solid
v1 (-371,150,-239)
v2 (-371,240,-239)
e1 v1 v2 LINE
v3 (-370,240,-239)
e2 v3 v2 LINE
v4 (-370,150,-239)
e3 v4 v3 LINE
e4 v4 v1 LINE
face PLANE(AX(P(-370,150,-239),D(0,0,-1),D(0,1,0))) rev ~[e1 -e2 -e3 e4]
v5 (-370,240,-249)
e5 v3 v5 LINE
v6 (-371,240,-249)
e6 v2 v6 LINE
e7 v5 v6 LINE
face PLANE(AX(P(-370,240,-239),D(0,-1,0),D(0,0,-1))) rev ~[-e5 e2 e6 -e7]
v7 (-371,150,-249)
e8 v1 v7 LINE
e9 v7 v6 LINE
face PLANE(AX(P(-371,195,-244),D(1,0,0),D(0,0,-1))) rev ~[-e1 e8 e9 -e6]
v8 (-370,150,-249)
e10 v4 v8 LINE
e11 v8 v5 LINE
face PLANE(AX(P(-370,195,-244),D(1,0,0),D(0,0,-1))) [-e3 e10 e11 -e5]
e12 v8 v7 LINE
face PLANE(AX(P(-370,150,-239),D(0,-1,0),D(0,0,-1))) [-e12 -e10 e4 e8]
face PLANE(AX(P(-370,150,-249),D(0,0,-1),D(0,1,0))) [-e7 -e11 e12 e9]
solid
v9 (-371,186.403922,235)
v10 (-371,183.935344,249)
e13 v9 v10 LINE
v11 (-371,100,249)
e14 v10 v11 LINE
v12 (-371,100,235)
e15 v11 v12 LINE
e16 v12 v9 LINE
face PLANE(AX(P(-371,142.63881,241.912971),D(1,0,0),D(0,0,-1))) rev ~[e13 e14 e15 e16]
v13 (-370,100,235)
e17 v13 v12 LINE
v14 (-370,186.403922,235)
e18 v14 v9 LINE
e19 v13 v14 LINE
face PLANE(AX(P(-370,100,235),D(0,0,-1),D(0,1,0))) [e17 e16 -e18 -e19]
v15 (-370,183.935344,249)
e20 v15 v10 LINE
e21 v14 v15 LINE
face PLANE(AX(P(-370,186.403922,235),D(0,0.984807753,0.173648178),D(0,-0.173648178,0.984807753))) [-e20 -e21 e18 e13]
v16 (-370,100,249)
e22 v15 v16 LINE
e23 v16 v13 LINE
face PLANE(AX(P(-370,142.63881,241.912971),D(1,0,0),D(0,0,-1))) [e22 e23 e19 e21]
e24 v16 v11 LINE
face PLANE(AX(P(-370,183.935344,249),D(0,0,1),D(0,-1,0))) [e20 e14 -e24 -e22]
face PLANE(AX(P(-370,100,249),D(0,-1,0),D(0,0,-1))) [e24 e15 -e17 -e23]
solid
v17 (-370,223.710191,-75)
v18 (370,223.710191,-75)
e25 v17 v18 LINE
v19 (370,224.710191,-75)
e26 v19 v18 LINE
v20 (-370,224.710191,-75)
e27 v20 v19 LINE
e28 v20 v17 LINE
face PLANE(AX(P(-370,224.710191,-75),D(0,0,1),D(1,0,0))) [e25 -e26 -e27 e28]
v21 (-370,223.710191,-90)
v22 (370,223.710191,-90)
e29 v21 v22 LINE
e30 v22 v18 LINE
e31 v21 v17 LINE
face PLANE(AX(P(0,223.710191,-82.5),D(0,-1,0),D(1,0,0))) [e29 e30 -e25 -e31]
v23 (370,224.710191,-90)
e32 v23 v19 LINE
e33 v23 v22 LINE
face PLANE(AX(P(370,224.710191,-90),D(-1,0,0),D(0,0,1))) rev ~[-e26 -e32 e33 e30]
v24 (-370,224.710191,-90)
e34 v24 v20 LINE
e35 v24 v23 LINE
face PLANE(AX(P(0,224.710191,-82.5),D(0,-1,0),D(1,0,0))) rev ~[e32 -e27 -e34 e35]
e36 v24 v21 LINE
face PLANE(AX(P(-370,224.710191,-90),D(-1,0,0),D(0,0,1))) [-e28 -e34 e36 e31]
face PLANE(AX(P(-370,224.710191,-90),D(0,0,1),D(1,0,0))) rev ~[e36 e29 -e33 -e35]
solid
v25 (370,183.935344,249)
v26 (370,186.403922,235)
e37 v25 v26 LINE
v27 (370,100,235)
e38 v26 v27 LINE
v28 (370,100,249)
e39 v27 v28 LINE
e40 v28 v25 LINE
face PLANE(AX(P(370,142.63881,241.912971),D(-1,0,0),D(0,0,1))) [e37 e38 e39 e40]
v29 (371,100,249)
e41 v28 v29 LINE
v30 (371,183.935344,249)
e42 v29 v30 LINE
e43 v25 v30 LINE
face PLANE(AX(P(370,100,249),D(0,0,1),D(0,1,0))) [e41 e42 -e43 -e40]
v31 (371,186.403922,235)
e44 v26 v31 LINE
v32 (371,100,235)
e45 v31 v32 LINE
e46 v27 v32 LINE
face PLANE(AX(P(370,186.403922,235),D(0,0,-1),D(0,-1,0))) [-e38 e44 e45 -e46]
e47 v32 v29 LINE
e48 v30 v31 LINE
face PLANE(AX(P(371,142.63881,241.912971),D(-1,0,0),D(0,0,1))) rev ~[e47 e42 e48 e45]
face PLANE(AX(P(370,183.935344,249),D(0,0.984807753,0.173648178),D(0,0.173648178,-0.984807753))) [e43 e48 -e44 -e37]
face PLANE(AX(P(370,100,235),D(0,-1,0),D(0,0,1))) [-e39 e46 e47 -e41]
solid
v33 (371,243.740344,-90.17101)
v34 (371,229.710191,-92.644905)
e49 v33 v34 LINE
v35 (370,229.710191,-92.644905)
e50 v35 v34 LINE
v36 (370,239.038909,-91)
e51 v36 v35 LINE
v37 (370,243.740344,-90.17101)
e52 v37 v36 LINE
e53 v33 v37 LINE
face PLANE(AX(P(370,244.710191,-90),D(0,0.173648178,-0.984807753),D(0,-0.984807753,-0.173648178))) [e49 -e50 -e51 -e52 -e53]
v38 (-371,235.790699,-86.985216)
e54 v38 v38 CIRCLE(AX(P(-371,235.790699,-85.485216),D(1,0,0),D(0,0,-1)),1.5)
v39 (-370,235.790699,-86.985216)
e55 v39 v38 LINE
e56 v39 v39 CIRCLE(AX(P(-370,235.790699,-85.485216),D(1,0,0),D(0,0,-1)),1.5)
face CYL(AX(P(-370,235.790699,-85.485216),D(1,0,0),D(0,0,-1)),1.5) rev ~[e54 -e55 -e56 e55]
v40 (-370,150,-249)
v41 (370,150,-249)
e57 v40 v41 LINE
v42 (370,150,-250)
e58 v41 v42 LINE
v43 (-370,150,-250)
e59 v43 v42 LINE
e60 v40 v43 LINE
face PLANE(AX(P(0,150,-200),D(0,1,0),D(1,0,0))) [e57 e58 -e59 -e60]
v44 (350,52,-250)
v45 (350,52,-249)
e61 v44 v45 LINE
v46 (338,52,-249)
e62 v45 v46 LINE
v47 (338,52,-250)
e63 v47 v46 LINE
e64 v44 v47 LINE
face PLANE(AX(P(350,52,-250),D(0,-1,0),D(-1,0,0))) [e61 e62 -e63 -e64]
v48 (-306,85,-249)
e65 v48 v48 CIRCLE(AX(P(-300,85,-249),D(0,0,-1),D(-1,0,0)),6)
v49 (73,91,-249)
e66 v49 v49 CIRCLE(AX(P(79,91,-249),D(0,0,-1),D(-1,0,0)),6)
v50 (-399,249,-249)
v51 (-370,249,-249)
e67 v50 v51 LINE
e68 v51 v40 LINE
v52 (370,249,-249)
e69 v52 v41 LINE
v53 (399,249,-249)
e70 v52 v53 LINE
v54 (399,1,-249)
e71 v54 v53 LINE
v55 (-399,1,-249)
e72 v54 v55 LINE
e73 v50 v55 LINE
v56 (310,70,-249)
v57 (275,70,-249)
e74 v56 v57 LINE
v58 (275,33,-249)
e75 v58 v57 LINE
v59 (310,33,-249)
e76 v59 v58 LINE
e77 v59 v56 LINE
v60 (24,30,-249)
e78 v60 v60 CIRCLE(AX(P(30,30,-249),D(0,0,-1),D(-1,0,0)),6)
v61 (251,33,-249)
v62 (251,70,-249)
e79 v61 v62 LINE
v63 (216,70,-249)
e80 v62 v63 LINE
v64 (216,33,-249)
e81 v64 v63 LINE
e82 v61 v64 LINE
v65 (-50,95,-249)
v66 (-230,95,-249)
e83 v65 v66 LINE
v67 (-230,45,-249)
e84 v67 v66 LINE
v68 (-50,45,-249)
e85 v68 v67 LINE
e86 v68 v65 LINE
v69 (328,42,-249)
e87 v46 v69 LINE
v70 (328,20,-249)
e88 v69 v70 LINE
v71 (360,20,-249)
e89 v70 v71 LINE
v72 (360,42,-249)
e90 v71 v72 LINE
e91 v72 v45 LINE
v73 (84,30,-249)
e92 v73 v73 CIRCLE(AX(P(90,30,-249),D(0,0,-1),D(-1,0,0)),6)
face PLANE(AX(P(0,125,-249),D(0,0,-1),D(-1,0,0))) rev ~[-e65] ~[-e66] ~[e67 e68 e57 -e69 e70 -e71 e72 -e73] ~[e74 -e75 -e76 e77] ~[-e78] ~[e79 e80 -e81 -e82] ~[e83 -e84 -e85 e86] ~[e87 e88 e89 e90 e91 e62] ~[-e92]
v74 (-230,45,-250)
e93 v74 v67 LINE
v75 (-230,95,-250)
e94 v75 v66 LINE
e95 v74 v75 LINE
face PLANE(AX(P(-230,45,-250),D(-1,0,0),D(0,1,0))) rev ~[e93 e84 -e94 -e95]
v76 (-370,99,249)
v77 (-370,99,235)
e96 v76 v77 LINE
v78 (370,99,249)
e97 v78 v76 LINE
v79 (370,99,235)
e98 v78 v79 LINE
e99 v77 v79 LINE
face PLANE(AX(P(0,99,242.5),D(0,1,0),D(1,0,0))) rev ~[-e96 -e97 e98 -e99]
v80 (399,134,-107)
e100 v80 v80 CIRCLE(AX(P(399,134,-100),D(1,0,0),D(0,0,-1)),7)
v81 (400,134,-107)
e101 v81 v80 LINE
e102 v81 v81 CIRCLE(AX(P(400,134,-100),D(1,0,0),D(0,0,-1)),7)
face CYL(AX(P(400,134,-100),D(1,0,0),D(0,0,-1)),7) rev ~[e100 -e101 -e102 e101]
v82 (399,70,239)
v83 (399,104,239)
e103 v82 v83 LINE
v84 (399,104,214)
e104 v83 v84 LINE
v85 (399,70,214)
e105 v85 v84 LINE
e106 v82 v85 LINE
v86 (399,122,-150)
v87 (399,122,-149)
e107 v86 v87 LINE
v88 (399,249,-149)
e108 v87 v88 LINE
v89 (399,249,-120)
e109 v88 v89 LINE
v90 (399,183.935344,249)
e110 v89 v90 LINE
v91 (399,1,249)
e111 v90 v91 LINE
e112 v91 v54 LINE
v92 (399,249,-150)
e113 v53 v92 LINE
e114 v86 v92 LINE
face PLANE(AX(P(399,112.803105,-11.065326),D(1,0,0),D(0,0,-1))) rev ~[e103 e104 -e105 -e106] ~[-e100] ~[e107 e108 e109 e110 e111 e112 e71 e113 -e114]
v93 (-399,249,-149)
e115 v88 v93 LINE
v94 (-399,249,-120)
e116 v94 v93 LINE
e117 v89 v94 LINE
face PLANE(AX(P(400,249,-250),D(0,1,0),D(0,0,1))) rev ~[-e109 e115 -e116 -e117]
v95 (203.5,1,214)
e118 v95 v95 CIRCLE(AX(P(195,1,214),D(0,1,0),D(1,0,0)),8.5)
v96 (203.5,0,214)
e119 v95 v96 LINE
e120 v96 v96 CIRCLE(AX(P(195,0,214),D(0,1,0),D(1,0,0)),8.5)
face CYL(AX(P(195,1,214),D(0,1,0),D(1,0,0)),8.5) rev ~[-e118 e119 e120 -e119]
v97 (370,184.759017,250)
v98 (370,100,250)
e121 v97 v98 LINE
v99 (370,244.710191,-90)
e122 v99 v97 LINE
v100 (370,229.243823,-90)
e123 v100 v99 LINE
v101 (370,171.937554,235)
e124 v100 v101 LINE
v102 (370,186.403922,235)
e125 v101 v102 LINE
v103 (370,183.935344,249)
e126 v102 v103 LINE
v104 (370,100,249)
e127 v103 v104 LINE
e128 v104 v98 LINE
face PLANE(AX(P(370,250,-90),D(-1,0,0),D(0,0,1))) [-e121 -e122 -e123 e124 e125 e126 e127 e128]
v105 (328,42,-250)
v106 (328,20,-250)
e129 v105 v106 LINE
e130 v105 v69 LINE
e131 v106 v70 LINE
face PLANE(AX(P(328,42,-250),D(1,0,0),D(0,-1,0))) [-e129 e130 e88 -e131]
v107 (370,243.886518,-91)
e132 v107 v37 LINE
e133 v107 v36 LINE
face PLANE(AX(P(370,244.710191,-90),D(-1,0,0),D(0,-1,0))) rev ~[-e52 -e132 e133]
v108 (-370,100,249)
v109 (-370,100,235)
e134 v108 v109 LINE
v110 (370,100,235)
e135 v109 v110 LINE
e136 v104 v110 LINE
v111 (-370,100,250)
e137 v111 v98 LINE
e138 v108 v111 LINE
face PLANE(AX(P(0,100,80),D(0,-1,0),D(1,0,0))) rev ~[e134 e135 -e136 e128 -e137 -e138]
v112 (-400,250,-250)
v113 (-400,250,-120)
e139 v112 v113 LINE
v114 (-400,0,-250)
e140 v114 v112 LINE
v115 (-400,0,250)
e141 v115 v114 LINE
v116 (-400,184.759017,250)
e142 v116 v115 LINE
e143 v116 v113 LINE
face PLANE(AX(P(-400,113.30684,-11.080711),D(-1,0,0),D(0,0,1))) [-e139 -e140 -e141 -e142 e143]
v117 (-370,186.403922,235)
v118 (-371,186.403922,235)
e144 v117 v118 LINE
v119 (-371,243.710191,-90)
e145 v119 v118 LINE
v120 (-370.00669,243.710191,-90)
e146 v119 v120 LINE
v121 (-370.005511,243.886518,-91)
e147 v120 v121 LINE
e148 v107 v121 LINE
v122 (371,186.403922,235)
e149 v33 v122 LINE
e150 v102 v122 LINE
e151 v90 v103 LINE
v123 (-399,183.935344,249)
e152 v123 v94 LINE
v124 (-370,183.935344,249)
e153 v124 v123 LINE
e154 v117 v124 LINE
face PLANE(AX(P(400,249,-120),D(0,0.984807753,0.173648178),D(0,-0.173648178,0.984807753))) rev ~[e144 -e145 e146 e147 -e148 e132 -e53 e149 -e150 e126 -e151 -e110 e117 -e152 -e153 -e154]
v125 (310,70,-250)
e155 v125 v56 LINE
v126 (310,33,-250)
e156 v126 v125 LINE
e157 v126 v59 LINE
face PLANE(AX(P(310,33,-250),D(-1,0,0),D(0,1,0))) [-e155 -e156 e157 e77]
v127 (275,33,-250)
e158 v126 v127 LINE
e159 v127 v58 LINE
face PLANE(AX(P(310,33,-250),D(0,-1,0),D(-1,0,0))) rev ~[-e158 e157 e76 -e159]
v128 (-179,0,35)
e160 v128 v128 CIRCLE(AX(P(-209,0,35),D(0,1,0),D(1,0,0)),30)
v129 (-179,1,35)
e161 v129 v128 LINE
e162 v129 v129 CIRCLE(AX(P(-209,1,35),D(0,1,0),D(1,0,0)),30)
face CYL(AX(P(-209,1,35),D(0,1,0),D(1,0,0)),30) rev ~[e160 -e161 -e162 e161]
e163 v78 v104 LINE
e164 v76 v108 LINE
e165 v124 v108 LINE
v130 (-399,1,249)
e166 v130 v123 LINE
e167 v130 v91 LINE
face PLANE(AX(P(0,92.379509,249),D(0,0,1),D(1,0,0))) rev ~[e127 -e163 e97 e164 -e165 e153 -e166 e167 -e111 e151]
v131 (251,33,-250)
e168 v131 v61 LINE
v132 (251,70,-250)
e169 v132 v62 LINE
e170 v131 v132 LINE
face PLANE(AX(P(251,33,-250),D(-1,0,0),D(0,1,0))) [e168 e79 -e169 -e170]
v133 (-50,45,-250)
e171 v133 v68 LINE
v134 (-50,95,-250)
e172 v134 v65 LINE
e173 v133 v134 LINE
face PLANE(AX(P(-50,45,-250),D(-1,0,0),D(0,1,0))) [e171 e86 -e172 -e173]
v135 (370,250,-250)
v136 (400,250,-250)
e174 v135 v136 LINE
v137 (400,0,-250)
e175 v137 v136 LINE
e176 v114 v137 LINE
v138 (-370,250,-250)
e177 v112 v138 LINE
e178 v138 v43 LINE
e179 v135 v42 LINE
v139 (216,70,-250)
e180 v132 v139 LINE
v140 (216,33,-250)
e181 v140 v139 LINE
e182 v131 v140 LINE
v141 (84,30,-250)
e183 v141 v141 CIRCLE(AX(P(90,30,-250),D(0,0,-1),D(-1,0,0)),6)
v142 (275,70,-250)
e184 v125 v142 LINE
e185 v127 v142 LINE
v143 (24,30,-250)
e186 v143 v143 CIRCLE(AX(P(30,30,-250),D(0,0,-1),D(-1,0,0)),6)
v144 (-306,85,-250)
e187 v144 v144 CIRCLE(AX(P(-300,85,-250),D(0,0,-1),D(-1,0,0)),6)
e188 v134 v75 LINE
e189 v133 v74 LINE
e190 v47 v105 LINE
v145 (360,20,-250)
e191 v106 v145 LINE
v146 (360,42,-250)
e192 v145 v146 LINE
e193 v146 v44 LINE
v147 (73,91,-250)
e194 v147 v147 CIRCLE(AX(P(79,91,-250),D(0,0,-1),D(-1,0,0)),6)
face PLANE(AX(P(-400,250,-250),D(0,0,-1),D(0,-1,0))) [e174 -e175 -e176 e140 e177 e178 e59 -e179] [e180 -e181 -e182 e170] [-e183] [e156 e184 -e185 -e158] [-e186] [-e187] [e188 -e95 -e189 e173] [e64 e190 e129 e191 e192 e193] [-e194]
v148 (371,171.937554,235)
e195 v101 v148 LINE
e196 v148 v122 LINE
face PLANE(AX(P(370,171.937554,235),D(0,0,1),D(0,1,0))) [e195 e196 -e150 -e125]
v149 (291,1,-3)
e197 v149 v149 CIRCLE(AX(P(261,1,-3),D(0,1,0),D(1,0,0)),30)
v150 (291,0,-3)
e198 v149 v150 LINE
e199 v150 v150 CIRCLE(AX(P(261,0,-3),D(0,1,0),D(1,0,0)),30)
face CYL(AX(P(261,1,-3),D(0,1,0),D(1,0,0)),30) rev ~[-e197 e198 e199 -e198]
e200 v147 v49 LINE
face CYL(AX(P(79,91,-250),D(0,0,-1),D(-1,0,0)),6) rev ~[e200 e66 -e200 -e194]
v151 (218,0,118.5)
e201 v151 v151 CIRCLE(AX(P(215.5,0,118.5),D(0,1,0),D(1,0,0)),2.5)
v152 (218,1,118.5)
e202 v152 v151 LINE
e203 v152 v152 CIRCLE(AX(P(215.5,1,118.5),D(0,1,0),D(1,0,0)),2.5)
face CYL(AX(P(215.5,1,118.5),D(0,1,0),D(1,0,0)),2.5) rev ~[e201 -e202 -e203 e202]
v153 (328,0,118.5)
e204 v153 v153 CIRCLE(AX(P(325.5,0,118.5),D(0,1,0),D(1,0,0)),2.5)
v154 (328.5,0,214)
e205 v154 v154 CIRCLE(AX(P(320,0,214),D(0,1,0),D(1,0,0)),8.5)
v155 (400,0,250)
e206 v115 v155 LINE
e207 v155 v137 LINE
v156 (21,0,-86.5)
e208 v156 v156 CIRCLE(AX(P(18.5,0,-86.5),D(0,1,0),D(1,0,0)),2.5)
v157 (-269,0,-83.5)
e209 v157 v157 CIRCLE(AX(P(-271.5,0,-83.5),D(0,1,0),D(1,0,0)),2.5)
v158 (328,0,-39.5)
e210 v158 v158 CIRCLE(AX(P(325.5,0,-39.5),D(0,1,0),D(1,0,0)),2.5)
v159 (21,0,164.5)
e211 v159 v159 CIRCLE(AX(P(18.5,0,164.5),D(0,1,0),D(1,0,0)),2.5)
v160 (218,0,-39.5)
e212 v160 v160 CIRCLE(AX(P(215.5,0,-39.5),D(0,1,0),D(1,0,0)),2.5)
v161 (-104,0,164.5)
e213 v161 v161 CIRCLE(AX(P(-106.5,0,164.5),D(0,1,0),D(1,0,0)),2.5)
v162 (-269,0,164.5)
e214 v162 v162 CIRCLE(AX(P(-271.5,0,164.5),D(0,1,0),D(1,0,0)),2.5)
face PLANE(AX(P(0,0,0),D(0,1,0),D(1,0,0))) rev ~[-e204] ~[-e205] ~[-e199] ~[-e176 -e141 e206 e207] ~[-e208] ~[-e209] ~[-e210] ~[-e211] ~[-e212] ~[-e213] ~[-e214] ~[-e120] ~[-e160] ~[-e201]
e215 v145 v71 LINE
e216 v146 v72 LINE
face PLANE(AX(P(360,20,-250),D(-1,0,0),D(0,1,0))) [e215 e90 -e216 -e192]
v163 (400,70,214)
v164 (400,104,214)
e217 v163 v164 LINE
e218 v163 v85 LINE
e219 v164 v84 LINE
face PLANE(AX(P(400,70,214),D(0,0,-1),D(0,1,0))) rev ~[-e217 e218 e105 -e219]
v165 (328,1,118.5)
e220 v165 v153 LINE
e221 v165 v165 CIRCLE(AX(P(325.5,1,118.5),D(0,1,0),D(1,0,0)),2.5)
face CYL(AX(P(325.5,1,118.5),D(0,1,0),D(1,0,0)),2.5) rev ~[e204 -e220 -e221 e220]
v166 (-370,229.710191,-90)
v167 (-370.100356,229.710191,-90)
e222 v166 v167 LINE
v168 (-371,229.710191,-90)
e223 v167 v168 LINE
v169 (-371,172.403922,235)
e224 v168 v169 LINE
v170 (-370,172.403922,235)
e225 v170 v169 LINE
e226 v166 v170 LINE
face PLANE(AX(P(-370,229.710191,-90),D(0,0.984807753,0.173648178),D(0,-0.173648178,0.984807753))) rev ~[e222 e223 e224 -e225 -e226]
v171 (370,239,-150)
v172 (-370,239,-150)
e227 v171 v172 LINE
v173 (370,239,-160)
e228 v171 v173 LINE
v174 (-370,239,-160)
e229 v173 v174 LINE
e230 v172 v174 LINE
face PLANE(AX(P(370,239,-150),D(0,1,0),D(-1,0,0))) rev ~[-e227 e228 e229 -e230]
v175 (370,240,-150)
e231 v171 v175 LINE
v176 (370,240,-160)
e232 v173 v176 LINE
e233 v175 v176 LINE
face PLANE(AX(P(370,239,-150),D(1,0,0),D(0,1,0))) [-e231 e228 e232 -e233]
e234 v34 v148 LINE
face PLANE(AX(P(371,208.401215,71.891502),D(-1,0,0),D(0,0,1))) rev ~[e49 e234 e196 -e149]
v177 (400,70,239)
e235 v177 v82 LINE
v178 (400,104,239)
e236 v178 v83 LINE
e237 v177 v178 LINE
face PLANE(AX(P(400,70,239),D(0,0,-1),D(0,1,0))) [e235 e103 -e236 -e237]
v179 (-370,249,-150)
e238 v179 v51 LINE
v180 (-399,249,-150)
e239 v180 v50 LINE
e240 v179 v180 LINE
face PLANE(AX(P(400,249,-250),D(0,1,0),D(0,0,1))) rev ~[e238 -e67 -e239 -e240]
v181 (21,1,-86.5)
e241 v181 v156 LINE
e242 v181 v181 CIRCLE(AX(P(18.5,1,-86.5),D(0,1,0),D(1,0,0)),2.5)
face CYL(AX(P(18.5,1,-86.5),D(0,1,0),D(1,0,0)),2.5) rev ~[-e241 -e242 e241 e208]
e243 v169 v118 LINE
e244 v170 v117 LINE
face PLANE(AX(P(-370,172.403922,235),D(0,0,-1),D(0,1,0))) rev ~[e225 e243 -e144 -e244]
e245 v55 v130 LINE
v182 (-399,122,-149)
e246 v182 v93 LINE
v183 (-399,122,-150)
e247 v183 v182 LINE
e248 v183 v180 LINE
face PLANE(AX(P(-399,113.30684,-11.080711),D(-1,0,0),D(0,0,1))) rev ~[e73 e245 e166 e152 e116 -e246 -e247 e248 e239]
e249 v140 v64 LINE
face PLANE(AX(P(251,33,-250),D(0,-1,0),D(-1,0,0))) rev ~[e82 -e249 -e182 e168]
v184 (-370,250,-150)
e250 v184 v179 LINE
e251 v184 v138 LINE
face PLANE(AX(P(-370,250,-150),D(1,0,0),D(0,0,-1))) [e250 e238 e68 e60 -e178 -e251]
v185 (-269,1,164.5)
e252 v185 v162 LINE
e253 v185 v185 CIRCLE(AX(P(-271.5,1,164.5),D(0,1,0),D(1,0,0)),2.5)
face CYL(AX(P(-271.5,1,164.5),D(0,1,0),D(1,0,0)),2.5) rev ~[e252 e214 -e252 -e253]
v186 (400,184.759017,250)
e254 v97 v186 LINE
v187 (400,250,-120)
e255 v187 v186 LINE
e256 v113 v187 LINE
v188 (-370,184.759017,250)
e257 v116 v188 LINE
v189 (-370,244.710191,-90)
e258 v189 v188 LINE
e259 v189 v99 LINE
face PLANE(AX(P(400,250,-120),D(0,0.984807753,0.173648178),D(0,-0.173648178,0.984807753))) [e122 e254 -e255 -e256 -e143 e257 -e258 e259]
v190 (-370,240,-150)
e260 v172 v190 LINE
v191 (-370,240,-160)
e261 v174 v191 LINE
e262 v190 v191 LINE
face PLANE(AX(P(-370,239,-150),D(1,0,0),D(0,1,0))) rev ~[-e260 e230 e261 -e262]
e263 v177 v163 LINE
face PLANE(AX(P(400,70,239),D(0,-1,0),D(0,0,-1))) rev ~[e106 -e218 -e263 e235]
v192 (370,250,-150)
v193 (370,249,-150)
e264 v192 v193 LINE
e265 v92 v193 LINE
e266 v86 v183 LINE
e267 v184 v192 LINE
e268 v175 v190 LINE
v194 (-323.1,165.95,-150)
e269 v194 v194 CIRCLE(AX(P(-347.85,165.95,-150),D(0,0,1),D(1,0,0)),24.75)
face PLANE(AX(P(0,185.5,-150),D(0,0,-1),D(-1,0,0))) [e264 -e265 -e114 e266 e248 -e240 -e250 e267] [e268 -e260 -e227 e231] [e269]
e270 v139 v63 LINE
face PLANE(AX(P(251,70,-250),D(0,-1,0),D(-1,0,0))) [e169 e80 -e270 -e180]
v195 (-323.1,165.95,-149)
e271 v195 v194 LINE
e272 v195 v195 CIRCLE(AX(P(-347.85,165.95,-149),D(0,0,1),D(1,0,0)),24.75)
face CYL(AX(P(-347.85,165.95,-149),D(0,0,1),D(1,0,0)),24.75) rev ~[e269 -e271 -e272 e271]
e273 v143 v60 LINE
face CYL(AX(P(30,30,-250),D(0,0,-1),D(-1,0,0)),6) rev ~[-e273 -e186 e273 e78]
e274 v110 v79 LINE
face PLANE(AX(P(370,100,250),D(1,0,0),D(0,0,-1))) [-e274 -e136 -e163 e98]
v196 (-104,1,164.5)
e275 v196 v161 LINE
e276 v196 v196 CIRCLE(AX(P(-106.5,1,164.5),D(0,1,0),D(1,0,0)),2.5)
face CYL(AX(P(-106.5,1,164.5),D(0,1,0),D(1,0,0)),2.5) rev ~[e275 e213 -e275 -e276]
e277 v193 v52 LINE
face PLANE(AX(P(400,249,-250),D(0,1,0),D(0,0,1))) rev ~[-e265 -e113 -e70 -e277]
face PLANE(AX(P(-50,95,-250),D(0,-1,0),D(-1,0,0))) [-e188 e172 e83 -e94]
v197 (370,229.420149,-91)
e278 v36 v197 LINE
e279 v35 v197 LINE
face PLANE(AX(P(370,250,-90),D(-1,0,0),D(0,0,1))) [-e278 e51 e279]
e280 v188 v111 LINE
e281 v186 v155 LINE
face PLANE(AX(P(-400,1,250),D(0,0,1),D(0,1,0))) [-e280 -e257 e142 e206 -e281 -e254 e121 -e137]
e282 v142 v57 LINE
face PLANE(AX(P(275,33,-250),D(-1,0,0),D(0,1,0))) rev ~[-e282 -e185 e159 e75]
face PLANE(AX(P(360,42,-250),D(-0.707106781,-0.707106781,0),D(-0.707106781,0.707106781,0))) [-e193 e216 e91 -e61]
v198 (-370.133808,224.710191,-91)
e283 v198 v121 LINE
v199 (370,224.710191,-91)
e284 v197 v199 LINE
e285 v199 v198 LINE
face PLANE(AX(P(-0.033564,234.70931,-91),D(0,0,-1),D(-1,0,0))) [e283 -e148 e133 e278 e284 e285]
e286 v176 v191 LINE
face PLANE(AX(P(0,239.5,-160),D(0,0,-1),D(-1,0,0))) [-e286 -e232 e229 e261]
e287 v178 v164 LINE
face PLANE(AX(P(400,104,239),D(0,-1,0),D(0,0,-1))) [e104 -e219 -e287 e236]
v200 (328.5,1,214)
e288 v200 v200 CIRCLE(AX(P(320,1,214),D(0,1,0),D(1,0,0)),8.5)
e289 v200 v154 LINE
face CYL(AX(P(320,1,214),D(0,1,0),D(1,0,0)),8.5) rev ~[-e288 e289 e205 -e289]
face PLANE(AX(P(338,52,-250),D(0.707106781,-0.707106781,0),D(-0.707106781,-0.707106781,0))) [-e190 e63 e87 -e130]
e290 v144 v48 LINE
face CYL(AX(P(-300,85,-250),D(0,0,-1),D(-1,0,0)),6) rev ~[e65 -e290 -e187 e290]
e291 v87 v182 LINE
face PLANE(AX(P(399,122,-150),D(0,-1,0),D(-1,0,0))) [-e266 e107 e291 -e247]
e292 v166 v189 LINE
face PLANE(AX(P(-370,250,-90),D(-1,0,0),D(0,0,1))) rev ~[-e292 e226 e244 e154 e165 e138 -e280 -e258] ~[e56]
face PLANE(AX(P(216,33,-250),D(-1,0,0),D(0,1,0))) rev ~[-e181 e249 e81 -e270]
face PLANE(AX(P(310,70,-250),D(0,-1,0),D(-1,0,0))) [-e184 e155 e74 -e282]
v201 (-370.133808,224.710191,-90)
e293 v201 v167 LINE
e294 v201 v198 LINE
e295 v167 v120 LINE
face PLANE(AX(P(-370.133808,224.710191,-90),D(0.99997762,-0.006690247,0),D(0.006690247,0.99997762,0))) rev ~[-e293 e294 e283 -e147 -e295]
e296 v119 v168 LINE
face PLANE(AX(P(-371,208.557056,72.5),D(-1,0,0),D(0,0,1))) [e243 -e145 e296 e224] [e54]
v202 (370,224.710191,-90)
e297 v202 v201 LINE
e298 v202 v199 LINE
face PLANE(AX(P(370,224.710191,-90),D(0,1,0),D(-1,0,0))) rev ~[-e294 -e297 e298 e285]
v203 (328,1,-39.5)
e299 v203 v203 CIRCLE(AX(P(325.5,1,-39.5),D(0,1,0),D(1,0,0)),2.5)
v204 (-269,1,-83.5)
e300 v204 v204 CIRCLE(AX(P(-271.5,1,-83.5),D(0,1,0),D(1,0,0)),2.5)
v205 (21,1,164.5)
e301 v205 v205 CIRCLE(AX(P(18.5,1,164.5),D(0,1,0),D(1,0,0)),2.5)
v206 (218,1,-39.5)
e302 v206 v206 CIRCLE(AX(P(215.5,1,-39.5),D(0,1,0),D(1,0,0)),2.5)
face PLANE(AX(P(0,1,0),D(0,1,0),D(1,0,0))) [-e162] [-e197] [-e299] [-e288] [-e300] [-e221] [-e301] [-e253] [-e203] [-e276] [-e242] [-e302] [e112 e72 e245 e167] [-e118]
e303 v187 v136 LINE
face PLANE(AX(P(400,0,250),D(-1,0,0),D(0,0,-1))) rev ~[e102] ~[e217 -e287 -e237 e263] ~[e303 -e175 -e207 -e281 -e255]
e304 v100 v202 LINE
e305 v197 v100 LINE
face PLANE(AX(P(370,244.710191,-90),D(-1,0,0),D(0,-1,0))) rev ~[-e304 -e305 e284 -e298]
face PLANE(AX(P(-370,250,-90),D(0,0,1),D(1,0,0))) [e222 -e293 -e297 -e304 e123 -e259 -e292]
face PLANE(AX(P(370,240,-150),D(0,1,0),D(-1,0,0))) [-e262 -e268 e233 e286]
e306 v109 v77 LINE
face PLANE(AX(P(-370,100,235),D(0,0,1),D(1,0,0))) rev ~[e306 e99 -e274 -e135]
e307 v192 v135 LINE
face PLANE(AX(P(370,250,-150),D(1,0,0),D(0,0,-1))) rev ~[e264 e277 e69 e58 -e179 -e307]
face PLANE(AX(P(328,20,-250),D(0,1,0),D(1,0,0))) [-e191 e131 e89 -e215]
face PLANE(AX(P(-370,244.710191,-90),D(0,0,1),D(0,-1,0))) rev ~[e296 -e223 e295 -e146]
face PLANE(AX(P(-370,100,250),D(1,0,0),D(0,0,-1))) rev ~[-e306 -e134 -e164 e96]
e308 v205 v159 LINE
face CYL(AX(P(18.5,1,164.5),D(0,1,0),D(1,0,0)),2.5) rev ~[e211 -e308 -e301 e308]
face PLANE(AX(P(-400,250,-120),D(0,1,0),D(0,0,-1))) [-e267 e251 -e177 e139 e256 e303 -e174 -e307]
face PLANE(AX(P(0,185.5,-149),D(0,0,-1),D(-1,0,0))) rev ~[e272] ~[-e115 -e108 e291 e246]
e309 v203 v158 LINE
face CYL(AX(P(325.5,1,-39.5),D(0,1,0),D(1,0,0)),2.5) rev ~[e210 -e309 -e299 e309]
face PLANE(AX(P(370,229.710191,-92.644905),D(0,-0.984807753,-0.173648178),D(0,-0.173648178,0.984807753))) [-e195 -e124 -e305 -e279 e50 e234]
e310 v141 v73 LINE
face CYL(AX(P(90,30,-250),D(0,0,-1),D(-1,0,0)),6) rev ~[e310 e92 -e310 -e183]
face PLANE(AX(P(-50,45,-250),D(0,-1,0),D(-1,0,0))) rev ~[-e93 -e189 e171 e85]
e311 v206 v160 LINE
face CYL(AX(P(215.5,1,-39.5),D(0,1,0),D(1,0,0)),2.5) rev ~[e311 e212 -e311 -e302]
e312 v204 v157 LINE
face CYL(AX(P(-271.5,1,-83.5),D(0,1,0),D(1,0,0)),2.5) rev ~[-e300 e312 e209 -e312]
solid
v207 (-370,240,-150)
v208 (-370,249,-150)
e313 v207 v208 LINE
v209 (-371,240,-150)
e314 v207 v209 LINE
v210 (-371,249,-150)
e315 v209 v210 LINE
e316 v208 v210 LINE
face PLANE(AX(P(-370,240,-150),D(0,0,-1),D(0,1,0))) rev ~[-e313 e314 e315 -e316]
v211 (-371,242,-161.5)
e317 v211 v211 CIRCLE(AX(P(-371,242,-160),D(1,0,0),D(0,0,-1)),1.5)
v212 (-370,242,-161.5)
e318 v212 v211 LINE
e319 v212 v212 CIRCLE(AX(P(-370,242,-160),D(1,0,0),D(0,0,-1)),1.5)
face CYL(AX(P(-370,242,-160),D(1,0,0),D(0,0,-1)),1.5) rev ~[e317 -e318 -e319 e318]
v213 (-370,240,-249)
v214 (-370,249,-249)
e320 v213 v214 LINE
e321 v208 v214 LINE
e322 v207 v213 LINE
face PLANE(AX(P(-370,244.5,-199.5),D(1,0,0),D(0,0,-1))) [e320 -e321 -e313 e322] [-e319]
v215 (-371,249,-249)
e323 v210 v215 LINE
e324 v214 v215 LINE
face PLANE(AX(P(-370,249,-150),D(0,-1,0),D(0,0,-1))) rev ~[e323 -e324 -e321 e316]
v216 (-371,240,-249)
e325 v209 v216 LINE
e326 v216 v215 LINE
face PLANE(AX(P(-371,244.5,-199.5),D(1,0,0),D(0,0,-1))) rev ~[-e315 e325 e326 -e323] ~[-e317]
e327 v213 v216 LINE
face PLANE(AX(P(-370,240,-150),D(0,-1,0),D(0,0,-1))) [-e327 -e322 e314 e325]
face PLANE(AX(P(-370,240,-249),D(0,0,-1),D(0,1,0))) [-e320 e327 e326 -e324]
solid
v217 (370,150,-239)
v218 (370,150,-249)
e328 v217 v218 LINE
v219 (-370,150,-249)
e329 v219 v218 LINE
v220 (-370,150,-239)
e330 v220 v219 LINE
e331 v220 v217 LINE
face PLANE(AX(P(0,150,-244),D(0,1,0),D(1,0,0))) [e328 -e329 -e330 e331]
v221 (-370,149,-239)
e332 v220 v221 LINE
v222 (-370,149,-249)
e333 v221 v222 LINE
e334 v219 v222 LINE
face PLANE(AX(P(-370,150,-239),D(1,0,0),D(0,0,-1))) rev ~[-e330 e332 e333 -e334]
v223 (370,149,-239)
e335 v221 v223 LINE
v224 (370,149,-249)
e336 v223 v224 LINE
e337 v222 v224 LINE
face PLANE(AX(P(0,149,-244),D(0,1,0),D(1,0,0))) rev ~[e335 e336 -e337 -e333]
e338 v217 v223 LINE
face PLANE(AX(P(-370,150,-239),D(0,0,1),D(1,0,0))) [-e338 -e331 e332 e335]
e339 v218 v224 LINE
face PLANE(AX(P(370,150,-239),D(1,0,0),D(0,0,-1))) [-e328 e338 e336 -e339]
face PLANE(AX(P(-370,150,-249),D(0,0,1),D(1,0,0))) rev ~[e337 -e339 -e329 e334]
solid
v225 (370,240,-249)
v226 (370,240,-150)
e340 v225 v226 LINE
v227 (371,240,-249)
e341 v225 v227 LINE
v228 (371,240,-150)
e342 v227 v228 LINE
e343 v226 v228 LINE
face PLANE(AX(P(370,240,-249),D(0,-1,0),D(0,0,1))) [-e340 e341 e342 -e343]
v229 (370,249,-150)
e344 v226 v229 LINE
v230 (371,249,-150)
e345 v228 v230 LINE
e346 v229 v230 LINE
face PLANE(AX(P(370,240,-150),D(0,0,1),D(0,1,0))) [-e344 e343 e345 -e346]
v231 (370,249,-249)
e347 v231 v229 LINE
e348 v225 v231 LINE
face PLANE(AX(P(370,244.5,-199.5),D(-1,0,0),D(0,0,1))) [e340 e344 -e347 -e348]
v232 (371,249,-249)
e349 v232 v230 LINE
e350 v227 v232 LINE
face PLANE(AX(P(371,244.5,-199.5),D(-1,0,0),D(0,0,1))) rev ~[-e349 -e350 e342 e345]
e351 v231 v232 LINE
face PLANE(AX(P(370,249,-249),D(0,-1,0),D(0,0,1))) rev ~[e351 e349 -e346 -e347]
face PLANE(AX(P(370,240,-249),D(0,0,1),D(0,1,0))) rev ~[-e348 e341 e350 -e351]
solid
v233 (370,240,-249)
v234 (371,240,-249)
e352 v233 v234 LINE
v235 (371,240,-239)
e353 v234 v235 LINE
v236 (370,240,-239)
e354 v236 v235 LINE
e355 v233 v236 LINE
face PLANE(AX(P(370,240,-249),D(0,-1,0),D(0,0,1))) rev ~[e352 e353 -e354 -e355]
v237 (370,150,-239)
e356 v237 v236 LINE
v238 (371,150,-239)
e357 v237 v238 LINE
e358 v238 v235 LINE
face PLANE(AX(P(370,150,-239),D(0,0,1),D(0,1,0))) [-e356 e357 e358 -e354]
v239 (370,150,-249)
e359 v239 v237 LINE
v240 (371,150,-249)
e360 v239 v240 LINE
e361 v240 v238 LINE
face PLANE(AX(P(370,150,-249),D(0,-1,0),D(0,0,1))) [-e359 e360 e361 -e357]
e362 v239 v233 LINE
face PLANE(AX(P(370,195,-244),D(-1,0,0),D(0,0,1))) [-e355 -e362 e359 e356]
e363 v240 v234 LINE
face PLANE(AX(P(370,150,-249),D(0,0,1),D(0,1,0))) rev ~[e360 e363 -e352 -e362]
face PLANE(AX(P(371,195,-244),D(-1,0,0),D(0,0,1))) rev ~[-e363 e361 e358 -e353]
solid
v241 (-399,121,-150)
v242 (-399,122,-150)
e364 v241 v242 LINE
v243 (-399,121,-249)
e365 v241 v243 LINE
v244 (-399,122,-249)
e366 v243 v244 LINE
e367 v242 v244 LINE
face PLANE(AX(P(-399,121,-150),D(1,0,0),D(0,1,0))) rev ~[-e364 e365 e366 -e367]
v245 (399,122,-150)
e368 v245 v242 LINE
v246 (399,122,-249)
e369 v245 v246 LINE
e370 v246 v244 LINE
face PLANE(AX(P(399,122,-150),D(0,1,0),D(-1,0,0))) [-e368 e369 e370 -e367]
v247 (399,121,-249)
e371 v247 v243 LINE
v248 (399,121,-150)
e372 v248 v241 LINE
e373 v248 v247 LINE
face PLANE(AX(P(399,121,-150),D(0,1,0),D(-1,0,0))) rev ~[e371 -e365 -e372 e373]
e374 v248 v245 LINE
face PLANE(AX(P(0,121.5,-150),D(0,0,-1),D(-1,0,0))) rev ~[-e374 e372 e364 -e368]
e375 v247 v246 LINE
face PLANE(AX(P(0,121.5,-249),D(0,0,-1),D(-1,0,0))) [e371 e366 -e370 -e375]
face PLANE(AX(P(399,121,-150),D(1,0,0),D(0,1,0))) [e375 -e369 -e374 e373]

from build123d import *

# Parameters (mm, degrees)
CROQUIS1_W               = 800
CROQUIS1_H               = 500
SALIENTE_EXTRUIR1_DEPTH  = 1
SALIENTE_EXTRUIR2_DEPTH  = 1
SALIENTE_EXTRUIR3_DEPTH  = 1
CROQUIS5_W               = 800
CROQUIS5_H               = 250
SALIENTE_EXTRUIR4_DEPTH  = 1
CROQUIS6_W               = 800
CROQUIS6_H               = 184.759017138
SALIENTE_EXTRUIR5_DEPTH  = 1
SALIENTE_EXTRUIR8_DEPTH  = 800
CROQUIS8_W               = 740
CROQUIS8_H               = 340
CORTAR_EXTRUIR3_DEPTH    = 150
CROQUIS13_W              = 740
CROQUIS13_H              = 15
SALIENTE_EXTRUIR10_DEPTH = 1
SALIENTE_EXTRUIR21_DEPTH = 1
SALIENTE_EXTRUIR23_DEPTH = 1
SALIENTE_EXTRUIR25_DEPTH = 1
SALIENTE_EXTRUIR31_DEPTH = 1
SALIENTE_EXTRUIR32_DEPTH = 1
CROQUIS21_W              = 740
CROQUIS21_H              = 15
SALIENTE_EXTRUIR35_DEPTH = 1
CROQUIS22_W              = 740
CROQUIS22_H              = 100
CORTAR_EXTRUIR4_DEPTH    = 100
CROQUIS23_W              = 798
CROQUIS23_H              = 127
SALIENTE_EXTRUIR36_DEPTH = 1
CROQUIS24_W              = 798
CROQUIS24_H              = 1
SALIENTE_EXTRUIR40_DEPTH = 99
CROQUIS25_W              = 740
CROQUIS25_H              = 1
SALIENTE_EXTRUIR41_DEPTH = 10
CROQUIS26_W              = 99
CROQUIS26_H              = 9
SALIENTE_EXTRUIR43_DEPTH = 1
CROQUIS27_W              = 99
CROQUIS27_H              = 9
SALIENTE_EXTRUIR45_DEPTH = 1
CROQUIS28_W              = 10
CROQUIS28_H              = 90
SALIENTE_EXTRUIR47_DEPTH = 1
CROQUIS29_W              = 740
CROQUIS29_H              = 10
SALIENTE_EXTRUIR48_DEPTH = 1
CROQUIS30_W              = 10
CROQUIS30_H              = 90
SALIENTE_EXTRUIR49_DEPTH = 1
CROQUIS31_R              = 6
CROQUIS31_W              = 180
CROQUIS31_H              = 50
CROQUIS31_W_2            = 35
CROQUIS31_H_2            = 37
CORTAR_EXTRUIR5_DEPTH    = 1
CROQUIS35_W              = 25
CROQUIS35_H              = 34
CORTAR_EXTRUIR8_DEPTH    = 1
CROQUIS36_R              = 7
CORTAR_EXTRUIR9_DEPTH    = 1
CROQUIS37_R              = 30
CROQUIS37_R_2            = 2.5
CROQUIS37_R_3            = 8.5
CORTAR_EXTRUIR11_DEPTH   = 1
CROQUIS40_R              = 1.5
CORTAR_EXTRUIR12_DEPTH   = 1
CROQUIS41_R              = 1.5
CORTAR_EXTRUIR13_DEPTH   = 1
CROQUIS42_R              = 24.75
CORTAR_EXTRUIR14_DEPTH   = 1


with BuildPart() as part:
    # Croquis1 → Saliente-Extruir1 (new body)
    with BuildSketch(Plane(origin=(0, 0, 0), x_dir=(1, 0, 0), z_dir=(0, 1, 0))):
        Rectangle(CROQUIS1_W, CROQUIS1_H)
    extrude(amount=SALIENTE_EXTRUIR1_DEPTH)

    # Croquis3 → Saliente-Extruir2 (add)
    with BuildSketch(Plane(origin=(400, 0, 0), x_dir=(0, 0, -1), z_dir=(1, 0, 0))):
        Polygon((-250, 0), (250, 0), (250, 250), (120, 250), (-250, 184.759017138), align=None)
    extrude(amount=-SALIENTE_EXTRUIR2_DEPTH)

    # Croquis4 → Saliente-Extruir3 (add)
    with BuildSketch(Plane.ZY.offset(400)):
        Polygon((-250, 250), (-250, 1), (250, 1), (250, 184.759017138), (-120, 250), align=None)
    extrude(amount=-SALIENTE_EXTRUIR3_DEPTH)

    # Croquis5 → Saliente-Extruir4 (add)
    with BuildSketch(Plane(origin=(0, 0, -250), x_dir=(-1, 0, 0), z_dir=(0, 0, -1))):
        with Locations((0, 125)):
            Rectangle(CROQUIS5_W, CROQUIS5_H)
    extrude(amount=-SALIENTE_EXTRUIR4_DEPTH)

    # Croquis6 → Saliente-Extruir5 (add)
    with BuildSketch(Plane.XY.offset(250)):
        with Locations((0, 92.379508569)):
            Rectangle(CROQUIS6_W, CROQUIS6_H)
    extrude(amount=-SALIENTE_EXTRUIR5_DEPTH)

    # Croquis7 → Saliente-Extruir8 (add)
    with BuildSketch(Plane(origin=(400, 0, 0), x_dir=(0, 0, -1), z_dir=(1, 0, 0))):
        Polygon((250, 250), (250, 249), (120, 249), (-250, 183.759017138), (-250, 184.759017138), (120, 250), align=None)
    extrude(amount=-SALIENTE_EXTRUIR8_DEPTH)

    # Croquis8 → Cortar-Extruir3 (cut)
    with BuildSketch(Plane(origin=(0, 250, -272.39856565), x_dir=(1, 0, 0), z_dir=(0, -1, 0))):
        with Locations((0, 352.39856565)):
            Rectangle(CROQUIS8_W, CROQUIS8_H)
    extrude(amount=CORTAR_EXTRUIR3_DEPTH, mode=Mode.SUBTRACT)

    # Croquis13 → Saliente-Extruir10 (add)
    with BuildSketch(Plane(origin=(0, 100, 0), x_dir=(1, 0, 0), z_dir=(0, 1, 0))):
        with Locations((0, -242.5)):
            Rectangle(CROQUIS13_W, CROQUIS13_H)
    extrude(amount=-SALIENTE_EXTRUIR10_DEPTH)

    # Croquis16 → Saliente-Extruir25 (add)
    with BuildSketch(Plane.ZY.offset(-370)):
        Polygon((-90, 244.710190579), (-92.644904711, 229.710190579), (235, 171.937553787), (235, 187.403921848), align=None)
    extrude(amount=-SALIENTE_EXTRUIR25_DEPTH)

    # Croquis18 → Saliente-Extruir31 (add)
    with BuildSketch(Plane.XY.offset(-90)):
        Polygon((370, 244.710190579), (370, 224.710190579), (-370.133807939, 224.710190579), (-370, 244.710190579), align=None)
    extrude(amount=-SALIENTE_EXTRUIR31_DEPTH)

    # Croquis19 → Saliente-Extruir32 (add)
    with BuildSketch(Plane(origin=(-370, 0, 0), x_dir=(0, 0, -1), z_dir=(1, 0, 0))):
        Polygon((90, 244.710190579), (90, 229.710190579), (-235, 172.403921848), (-235, 187.403921848), align=None)
    extrude(amount=-SALIENTE_EXTRUIR32_DEPTH)

    # Croquis22 → Cortar-Extruir4 (cut)
    with BuildSketch(Plane(origin=(0, 250, 0), x_dir=(1, 0, 0), z_dir=(0, 1, 0))):
        with Locations((0, 200)):
            Rectangle(CROQUIS22_W, CROQUIS22_H)
    extrude(amount=-CORTAR_EXTRUIR4_DEPTH, mode=Mode.SUBTRACT)

    # Croquis23 → Saliente-Extruir36 (add)
    with BuildSketch(Plane(origin=(0, 0, -150), x_dir=(-1, 0, 0), z_dir=(0, 0, -1))):
        with Locations((0, 185.5)):
            Rectangle(CROQUIS23_W, CROQUIS23_H)
    extrude(amount=-SALIENTE_EXTRUIR36_DEPTH)

    # Croquis25 → Saliente-Extruir41 (add)
    with BuildSketch(Plane(origin=(0, 0, -150), x_dir=(-1, 0, 0), z_dir=(0, 0, -1))):
        with Locations((0, 239.5)):
            Rectangle(CROQUIS25_W, CROQUIS25_H)
    extrude(amount=SALIENTE_EXTRUIR41_DEPTH)

    # Croquis31 → Cortar-Extruir5 (cut)
    with BuildSketch(Plane(origin=(0, 0, -250), x_dir=(-1, 0, 0), z_dir=(0, 0, -1))):
        with Locations((-79, 91)):
            Circle(CROQUIS31_R)
        with Locations((-90, 30)):
            Circle(CROQUIS31_R)
        with Locations((-30, 30)):
            Circle(CROQUIS31_R)
        with Locations((300, 85)):
            Circle(CROQUIS31_R)
        with Locations((140, 70)):
            Rectangle(CROQUIS31_W, CROQUIS31_H)
        Polygon((-350, 52), (-338, 52), (-328, 42), (-328, 20), (-360, 20), (-360, 42), align=None)
        with Locations((-292.5, 51.5)):
            Rectangle(CROQUIS31_W_2, CROQUIS31_H_2)
        with Locations((-233.5, 51.5)):
            Rectangle(CROQUIS31_W_2, CROQUIS31_H_2)
    extrude(amount=-CORTAR_EXTRUIR5_DEPTH, mode=Mode.SUBTRACT)

    # Croquis35 → Cortar-Extruir8 (cut)
    with BuildSketch(Plane(origin=(400, 0, 0), x_dir=(0, 0, -1), z_dir=(1, 0, 0))):
        with Locations((-226.5, 87)):
            Rectangle(CROQUIS35_W, CROQUIS35_H)
    extrude(amount=-CORTAR_EXTRUIR8_DEPTH, mode=Mode.SUBTRACT)

    # Croquis36 → Cortar-Extruir9 (cut)
    with BuildSketch(Plane(origin=(400, 0, 0), x_dir=(0, 0, -1), z_dir=(1, 0, 0))):
        with Locations((100, 134)):
            Circle(CROQUIS36_R)
    extrude(amount=-CORTAR_EXTRUIR9_DEPTH, mode=Mode.SUBTRACT)

    # Croquis37 → Cortar-Extruir11 (cut)
    with BuildSketch(Plane(origin=(0, 1, 0), x_dir=(1, 0, 0), z_dir=(0, 1, 0))):
        with Locations((-209, -35)):
            Circle(CROQUIS37_R)
        with Locations((261, 3)):
            Circle(CROQUIS37_R)
        with Locations((325.5, -118.5)):
            Circle(CROQUIS37_R_2)
        with Locations((325.5, 39.5)):
            Circle(CROQUIS37_R_2)
        with Locations((215.5, 39.5)):
            Circle(CROQUIS37_R_2)
        with Locations((215.5, -118.5)):
            Circle(CROQUIS37_R_2)
        with Locations((18.5, -164.5)):
            Circle(CROQUIS37_R_2)
        with Locations((-106.5, -164.5)):
            Circle(CROQUIS37_R_2)
        with Locations((-271.5, -164.5)):
            Circle(CROQUIS37_R_2)
        with Locations((18.5, 86.5)):
            Circle(CROQUIS37_R_2)
        with Locations((-271.5, 83.5)):
            Circle(CROQUIS37_R_2)
        with Locations((195, -214)):
            Circle(CROQUIS37_R_3)
        with Locations((320, -214)):
            Circle(CROQUIS37_R_3)
    extrude(amount=-CORTAR_EXTRUIR11_DEPTH, mode=Mode.SUBTRACT)

    # Croquis40 → Cortar-Extruir12 (cut)
    with BuildSketch(Plane(origin=(-370, 0, 0), x_dir=(0, 0, -1), z_dir=(1, 0, 0))):
        with Locations((85.485215631, 235.790699387)):
            Circle(CROQUIS40_R)
    extrude(amount=-CORTAR_EXTRUIR12_DEPTH, mode=Mode.SUBTRACT)

    # Croquis42 → Cortar-Extruir14 (cut)
    with BuildSketch(Plane.XY.offset(-149)):
        with Locations((-347.85, 165.95)):
            Circle(CROQUIS42_R)
    extrude(amount=-CORTAR_EXTRUIR14_DEPTH, mode=Mode.SUBTRACT)


with BuildPart() as body_2:
    # Croquis14 → Saliente-Extruir21 (new body)
    with BuildSketch(Plane.ZY.offset(-370)):
        Polygon((235, 100), (249, 100), (249, 183.935344119), (235, 186.403921848), align=None)
    extrude(amount=-SALIENTE_EXTRUIR21_DEPTH)


with BuildPart() as body_3:
    # Croquis15 → Saliente-Extruir23 (new body)
    with BuildSketch(Plane(origin=(-370, 0, 0), x_dir=(0, 0, -1), z_dir=(1, 0, 0))):
        Polygon((-249, 100), (-235, 100), (-235, 186.403921848), (-249, 183.935344119), align=None)
    extrude(amount=-SALIENTE_EXTRUIR23_DEPTH)


with BuildPart() as body_4:
    # Croquis21 → Saliente-Extruir35 (new body)
    with BuildSketch(Plane.XZ.offset(-224.710190579)):
        with Locations((0, -82.5)):
            Rectangle(CROQUIS21_W, CROQUIS21_H)
    extrude(amount=SALIENTE_EXTRUIR35_DEPTH)


with BuildPart() as body_5:
    # Croquis24 → Saliente-Extruir40 (new body)
    with BuildSketch(Plane(origin=(0, 0, -150), x_dir=(-1, 0, 0), z_dir=(0, 0, -1))):
        with Locations((0, 121.5)):
            Rectangle(CROQUIS24_W, CROQUIS24_H)
    extrude(amount=SALIENTE_EXTRUIR40_DEPTH)


with BuildPart() as body_6:
    # Croquis26 → Saliente-Extruir43 (new body)
    with BuildSketch(Plane(origin=(-370, 0, 0), x_dir=(0, 0, -1), z_dir=(1, 0, 0))):
        with Locations((199.5, 244.5)):
            Rectangle(CROQUIS26_W, CROQUIS26_H)
    extrude(amount=-SALIENTE_EXTRUIR43_DEPTH)

    # Croquis41 → Cortar-Extruir13 (cut)
    with BuildSketch(Plane(origin=(-370, 0, 0), x_dir=(0, 0, -1), z_dir=(1, 0, 0))):
        with Locations((160, 242)):
            Circle(CROQUIS41_R)
    extrude(amount=-CORTAR_EXTRUIR13_DEPTH, mode=Mode.SUBTRACT)


with BuildPart() as body_7:
    # Croquis27 → Saliente-Extruir45 (new body)
    with BuildSketch(Plane.ZY.offset(-370)):
        with Locations((-199.5, 244.5)):
            Rectangle(CROQUIS27_W, CROQUIS27_H)
    extrude(amount=-SALIENTE_EXTRUIR45_DEPTH)


with BuildPart() as body_8:
    # Croquis28 → Saliente-Extruir47 (new body)
    with BuildSketch(Plane(origin=(-370, 0, 0), x_dir=(0, 0, -1), z_dir=(1, 0, 0))):
        with Locations((244, 195)):
            Rectangle(CROQUIS28_W, CROQUIS28_H)
    extrude(amount=-SALIENTE_EXTRUIR47_DEPTH)


with BuildPart() as body_9:
    # Croquis29 → Saliente-Extruir48 (new body)
    with BuildSketch(Plane(origin=(0, 150, 0), x_dir=(1, 0, 0), z_dir=(0, 1, 0))):
        with Locations((0, 244)):
            Rectangle(CROQUIS29_W, CROQUIS29_H)
    extrude(amount=-SALIENTE_EXTRUIR48_DEPTH)


with BuildPart() as body_10:
    # Croquis30 → Saliente-Extruir49 (new body)
    with BuildSketch(Plane.ZY.offset(-370)):
        with Locations((-244, 195)):
            Rectangle(CROQUIS30_W, CROQUIS30_H)
    extrude(amount=-SALIENTE_EXTRUIR49_DEPTH)


solid = Compound([part.part, body_2.part, body_3.part, body_4.part, body_5.part, body_6.part, body_7.part, body_8.part, body_9.part, body_10.part])
